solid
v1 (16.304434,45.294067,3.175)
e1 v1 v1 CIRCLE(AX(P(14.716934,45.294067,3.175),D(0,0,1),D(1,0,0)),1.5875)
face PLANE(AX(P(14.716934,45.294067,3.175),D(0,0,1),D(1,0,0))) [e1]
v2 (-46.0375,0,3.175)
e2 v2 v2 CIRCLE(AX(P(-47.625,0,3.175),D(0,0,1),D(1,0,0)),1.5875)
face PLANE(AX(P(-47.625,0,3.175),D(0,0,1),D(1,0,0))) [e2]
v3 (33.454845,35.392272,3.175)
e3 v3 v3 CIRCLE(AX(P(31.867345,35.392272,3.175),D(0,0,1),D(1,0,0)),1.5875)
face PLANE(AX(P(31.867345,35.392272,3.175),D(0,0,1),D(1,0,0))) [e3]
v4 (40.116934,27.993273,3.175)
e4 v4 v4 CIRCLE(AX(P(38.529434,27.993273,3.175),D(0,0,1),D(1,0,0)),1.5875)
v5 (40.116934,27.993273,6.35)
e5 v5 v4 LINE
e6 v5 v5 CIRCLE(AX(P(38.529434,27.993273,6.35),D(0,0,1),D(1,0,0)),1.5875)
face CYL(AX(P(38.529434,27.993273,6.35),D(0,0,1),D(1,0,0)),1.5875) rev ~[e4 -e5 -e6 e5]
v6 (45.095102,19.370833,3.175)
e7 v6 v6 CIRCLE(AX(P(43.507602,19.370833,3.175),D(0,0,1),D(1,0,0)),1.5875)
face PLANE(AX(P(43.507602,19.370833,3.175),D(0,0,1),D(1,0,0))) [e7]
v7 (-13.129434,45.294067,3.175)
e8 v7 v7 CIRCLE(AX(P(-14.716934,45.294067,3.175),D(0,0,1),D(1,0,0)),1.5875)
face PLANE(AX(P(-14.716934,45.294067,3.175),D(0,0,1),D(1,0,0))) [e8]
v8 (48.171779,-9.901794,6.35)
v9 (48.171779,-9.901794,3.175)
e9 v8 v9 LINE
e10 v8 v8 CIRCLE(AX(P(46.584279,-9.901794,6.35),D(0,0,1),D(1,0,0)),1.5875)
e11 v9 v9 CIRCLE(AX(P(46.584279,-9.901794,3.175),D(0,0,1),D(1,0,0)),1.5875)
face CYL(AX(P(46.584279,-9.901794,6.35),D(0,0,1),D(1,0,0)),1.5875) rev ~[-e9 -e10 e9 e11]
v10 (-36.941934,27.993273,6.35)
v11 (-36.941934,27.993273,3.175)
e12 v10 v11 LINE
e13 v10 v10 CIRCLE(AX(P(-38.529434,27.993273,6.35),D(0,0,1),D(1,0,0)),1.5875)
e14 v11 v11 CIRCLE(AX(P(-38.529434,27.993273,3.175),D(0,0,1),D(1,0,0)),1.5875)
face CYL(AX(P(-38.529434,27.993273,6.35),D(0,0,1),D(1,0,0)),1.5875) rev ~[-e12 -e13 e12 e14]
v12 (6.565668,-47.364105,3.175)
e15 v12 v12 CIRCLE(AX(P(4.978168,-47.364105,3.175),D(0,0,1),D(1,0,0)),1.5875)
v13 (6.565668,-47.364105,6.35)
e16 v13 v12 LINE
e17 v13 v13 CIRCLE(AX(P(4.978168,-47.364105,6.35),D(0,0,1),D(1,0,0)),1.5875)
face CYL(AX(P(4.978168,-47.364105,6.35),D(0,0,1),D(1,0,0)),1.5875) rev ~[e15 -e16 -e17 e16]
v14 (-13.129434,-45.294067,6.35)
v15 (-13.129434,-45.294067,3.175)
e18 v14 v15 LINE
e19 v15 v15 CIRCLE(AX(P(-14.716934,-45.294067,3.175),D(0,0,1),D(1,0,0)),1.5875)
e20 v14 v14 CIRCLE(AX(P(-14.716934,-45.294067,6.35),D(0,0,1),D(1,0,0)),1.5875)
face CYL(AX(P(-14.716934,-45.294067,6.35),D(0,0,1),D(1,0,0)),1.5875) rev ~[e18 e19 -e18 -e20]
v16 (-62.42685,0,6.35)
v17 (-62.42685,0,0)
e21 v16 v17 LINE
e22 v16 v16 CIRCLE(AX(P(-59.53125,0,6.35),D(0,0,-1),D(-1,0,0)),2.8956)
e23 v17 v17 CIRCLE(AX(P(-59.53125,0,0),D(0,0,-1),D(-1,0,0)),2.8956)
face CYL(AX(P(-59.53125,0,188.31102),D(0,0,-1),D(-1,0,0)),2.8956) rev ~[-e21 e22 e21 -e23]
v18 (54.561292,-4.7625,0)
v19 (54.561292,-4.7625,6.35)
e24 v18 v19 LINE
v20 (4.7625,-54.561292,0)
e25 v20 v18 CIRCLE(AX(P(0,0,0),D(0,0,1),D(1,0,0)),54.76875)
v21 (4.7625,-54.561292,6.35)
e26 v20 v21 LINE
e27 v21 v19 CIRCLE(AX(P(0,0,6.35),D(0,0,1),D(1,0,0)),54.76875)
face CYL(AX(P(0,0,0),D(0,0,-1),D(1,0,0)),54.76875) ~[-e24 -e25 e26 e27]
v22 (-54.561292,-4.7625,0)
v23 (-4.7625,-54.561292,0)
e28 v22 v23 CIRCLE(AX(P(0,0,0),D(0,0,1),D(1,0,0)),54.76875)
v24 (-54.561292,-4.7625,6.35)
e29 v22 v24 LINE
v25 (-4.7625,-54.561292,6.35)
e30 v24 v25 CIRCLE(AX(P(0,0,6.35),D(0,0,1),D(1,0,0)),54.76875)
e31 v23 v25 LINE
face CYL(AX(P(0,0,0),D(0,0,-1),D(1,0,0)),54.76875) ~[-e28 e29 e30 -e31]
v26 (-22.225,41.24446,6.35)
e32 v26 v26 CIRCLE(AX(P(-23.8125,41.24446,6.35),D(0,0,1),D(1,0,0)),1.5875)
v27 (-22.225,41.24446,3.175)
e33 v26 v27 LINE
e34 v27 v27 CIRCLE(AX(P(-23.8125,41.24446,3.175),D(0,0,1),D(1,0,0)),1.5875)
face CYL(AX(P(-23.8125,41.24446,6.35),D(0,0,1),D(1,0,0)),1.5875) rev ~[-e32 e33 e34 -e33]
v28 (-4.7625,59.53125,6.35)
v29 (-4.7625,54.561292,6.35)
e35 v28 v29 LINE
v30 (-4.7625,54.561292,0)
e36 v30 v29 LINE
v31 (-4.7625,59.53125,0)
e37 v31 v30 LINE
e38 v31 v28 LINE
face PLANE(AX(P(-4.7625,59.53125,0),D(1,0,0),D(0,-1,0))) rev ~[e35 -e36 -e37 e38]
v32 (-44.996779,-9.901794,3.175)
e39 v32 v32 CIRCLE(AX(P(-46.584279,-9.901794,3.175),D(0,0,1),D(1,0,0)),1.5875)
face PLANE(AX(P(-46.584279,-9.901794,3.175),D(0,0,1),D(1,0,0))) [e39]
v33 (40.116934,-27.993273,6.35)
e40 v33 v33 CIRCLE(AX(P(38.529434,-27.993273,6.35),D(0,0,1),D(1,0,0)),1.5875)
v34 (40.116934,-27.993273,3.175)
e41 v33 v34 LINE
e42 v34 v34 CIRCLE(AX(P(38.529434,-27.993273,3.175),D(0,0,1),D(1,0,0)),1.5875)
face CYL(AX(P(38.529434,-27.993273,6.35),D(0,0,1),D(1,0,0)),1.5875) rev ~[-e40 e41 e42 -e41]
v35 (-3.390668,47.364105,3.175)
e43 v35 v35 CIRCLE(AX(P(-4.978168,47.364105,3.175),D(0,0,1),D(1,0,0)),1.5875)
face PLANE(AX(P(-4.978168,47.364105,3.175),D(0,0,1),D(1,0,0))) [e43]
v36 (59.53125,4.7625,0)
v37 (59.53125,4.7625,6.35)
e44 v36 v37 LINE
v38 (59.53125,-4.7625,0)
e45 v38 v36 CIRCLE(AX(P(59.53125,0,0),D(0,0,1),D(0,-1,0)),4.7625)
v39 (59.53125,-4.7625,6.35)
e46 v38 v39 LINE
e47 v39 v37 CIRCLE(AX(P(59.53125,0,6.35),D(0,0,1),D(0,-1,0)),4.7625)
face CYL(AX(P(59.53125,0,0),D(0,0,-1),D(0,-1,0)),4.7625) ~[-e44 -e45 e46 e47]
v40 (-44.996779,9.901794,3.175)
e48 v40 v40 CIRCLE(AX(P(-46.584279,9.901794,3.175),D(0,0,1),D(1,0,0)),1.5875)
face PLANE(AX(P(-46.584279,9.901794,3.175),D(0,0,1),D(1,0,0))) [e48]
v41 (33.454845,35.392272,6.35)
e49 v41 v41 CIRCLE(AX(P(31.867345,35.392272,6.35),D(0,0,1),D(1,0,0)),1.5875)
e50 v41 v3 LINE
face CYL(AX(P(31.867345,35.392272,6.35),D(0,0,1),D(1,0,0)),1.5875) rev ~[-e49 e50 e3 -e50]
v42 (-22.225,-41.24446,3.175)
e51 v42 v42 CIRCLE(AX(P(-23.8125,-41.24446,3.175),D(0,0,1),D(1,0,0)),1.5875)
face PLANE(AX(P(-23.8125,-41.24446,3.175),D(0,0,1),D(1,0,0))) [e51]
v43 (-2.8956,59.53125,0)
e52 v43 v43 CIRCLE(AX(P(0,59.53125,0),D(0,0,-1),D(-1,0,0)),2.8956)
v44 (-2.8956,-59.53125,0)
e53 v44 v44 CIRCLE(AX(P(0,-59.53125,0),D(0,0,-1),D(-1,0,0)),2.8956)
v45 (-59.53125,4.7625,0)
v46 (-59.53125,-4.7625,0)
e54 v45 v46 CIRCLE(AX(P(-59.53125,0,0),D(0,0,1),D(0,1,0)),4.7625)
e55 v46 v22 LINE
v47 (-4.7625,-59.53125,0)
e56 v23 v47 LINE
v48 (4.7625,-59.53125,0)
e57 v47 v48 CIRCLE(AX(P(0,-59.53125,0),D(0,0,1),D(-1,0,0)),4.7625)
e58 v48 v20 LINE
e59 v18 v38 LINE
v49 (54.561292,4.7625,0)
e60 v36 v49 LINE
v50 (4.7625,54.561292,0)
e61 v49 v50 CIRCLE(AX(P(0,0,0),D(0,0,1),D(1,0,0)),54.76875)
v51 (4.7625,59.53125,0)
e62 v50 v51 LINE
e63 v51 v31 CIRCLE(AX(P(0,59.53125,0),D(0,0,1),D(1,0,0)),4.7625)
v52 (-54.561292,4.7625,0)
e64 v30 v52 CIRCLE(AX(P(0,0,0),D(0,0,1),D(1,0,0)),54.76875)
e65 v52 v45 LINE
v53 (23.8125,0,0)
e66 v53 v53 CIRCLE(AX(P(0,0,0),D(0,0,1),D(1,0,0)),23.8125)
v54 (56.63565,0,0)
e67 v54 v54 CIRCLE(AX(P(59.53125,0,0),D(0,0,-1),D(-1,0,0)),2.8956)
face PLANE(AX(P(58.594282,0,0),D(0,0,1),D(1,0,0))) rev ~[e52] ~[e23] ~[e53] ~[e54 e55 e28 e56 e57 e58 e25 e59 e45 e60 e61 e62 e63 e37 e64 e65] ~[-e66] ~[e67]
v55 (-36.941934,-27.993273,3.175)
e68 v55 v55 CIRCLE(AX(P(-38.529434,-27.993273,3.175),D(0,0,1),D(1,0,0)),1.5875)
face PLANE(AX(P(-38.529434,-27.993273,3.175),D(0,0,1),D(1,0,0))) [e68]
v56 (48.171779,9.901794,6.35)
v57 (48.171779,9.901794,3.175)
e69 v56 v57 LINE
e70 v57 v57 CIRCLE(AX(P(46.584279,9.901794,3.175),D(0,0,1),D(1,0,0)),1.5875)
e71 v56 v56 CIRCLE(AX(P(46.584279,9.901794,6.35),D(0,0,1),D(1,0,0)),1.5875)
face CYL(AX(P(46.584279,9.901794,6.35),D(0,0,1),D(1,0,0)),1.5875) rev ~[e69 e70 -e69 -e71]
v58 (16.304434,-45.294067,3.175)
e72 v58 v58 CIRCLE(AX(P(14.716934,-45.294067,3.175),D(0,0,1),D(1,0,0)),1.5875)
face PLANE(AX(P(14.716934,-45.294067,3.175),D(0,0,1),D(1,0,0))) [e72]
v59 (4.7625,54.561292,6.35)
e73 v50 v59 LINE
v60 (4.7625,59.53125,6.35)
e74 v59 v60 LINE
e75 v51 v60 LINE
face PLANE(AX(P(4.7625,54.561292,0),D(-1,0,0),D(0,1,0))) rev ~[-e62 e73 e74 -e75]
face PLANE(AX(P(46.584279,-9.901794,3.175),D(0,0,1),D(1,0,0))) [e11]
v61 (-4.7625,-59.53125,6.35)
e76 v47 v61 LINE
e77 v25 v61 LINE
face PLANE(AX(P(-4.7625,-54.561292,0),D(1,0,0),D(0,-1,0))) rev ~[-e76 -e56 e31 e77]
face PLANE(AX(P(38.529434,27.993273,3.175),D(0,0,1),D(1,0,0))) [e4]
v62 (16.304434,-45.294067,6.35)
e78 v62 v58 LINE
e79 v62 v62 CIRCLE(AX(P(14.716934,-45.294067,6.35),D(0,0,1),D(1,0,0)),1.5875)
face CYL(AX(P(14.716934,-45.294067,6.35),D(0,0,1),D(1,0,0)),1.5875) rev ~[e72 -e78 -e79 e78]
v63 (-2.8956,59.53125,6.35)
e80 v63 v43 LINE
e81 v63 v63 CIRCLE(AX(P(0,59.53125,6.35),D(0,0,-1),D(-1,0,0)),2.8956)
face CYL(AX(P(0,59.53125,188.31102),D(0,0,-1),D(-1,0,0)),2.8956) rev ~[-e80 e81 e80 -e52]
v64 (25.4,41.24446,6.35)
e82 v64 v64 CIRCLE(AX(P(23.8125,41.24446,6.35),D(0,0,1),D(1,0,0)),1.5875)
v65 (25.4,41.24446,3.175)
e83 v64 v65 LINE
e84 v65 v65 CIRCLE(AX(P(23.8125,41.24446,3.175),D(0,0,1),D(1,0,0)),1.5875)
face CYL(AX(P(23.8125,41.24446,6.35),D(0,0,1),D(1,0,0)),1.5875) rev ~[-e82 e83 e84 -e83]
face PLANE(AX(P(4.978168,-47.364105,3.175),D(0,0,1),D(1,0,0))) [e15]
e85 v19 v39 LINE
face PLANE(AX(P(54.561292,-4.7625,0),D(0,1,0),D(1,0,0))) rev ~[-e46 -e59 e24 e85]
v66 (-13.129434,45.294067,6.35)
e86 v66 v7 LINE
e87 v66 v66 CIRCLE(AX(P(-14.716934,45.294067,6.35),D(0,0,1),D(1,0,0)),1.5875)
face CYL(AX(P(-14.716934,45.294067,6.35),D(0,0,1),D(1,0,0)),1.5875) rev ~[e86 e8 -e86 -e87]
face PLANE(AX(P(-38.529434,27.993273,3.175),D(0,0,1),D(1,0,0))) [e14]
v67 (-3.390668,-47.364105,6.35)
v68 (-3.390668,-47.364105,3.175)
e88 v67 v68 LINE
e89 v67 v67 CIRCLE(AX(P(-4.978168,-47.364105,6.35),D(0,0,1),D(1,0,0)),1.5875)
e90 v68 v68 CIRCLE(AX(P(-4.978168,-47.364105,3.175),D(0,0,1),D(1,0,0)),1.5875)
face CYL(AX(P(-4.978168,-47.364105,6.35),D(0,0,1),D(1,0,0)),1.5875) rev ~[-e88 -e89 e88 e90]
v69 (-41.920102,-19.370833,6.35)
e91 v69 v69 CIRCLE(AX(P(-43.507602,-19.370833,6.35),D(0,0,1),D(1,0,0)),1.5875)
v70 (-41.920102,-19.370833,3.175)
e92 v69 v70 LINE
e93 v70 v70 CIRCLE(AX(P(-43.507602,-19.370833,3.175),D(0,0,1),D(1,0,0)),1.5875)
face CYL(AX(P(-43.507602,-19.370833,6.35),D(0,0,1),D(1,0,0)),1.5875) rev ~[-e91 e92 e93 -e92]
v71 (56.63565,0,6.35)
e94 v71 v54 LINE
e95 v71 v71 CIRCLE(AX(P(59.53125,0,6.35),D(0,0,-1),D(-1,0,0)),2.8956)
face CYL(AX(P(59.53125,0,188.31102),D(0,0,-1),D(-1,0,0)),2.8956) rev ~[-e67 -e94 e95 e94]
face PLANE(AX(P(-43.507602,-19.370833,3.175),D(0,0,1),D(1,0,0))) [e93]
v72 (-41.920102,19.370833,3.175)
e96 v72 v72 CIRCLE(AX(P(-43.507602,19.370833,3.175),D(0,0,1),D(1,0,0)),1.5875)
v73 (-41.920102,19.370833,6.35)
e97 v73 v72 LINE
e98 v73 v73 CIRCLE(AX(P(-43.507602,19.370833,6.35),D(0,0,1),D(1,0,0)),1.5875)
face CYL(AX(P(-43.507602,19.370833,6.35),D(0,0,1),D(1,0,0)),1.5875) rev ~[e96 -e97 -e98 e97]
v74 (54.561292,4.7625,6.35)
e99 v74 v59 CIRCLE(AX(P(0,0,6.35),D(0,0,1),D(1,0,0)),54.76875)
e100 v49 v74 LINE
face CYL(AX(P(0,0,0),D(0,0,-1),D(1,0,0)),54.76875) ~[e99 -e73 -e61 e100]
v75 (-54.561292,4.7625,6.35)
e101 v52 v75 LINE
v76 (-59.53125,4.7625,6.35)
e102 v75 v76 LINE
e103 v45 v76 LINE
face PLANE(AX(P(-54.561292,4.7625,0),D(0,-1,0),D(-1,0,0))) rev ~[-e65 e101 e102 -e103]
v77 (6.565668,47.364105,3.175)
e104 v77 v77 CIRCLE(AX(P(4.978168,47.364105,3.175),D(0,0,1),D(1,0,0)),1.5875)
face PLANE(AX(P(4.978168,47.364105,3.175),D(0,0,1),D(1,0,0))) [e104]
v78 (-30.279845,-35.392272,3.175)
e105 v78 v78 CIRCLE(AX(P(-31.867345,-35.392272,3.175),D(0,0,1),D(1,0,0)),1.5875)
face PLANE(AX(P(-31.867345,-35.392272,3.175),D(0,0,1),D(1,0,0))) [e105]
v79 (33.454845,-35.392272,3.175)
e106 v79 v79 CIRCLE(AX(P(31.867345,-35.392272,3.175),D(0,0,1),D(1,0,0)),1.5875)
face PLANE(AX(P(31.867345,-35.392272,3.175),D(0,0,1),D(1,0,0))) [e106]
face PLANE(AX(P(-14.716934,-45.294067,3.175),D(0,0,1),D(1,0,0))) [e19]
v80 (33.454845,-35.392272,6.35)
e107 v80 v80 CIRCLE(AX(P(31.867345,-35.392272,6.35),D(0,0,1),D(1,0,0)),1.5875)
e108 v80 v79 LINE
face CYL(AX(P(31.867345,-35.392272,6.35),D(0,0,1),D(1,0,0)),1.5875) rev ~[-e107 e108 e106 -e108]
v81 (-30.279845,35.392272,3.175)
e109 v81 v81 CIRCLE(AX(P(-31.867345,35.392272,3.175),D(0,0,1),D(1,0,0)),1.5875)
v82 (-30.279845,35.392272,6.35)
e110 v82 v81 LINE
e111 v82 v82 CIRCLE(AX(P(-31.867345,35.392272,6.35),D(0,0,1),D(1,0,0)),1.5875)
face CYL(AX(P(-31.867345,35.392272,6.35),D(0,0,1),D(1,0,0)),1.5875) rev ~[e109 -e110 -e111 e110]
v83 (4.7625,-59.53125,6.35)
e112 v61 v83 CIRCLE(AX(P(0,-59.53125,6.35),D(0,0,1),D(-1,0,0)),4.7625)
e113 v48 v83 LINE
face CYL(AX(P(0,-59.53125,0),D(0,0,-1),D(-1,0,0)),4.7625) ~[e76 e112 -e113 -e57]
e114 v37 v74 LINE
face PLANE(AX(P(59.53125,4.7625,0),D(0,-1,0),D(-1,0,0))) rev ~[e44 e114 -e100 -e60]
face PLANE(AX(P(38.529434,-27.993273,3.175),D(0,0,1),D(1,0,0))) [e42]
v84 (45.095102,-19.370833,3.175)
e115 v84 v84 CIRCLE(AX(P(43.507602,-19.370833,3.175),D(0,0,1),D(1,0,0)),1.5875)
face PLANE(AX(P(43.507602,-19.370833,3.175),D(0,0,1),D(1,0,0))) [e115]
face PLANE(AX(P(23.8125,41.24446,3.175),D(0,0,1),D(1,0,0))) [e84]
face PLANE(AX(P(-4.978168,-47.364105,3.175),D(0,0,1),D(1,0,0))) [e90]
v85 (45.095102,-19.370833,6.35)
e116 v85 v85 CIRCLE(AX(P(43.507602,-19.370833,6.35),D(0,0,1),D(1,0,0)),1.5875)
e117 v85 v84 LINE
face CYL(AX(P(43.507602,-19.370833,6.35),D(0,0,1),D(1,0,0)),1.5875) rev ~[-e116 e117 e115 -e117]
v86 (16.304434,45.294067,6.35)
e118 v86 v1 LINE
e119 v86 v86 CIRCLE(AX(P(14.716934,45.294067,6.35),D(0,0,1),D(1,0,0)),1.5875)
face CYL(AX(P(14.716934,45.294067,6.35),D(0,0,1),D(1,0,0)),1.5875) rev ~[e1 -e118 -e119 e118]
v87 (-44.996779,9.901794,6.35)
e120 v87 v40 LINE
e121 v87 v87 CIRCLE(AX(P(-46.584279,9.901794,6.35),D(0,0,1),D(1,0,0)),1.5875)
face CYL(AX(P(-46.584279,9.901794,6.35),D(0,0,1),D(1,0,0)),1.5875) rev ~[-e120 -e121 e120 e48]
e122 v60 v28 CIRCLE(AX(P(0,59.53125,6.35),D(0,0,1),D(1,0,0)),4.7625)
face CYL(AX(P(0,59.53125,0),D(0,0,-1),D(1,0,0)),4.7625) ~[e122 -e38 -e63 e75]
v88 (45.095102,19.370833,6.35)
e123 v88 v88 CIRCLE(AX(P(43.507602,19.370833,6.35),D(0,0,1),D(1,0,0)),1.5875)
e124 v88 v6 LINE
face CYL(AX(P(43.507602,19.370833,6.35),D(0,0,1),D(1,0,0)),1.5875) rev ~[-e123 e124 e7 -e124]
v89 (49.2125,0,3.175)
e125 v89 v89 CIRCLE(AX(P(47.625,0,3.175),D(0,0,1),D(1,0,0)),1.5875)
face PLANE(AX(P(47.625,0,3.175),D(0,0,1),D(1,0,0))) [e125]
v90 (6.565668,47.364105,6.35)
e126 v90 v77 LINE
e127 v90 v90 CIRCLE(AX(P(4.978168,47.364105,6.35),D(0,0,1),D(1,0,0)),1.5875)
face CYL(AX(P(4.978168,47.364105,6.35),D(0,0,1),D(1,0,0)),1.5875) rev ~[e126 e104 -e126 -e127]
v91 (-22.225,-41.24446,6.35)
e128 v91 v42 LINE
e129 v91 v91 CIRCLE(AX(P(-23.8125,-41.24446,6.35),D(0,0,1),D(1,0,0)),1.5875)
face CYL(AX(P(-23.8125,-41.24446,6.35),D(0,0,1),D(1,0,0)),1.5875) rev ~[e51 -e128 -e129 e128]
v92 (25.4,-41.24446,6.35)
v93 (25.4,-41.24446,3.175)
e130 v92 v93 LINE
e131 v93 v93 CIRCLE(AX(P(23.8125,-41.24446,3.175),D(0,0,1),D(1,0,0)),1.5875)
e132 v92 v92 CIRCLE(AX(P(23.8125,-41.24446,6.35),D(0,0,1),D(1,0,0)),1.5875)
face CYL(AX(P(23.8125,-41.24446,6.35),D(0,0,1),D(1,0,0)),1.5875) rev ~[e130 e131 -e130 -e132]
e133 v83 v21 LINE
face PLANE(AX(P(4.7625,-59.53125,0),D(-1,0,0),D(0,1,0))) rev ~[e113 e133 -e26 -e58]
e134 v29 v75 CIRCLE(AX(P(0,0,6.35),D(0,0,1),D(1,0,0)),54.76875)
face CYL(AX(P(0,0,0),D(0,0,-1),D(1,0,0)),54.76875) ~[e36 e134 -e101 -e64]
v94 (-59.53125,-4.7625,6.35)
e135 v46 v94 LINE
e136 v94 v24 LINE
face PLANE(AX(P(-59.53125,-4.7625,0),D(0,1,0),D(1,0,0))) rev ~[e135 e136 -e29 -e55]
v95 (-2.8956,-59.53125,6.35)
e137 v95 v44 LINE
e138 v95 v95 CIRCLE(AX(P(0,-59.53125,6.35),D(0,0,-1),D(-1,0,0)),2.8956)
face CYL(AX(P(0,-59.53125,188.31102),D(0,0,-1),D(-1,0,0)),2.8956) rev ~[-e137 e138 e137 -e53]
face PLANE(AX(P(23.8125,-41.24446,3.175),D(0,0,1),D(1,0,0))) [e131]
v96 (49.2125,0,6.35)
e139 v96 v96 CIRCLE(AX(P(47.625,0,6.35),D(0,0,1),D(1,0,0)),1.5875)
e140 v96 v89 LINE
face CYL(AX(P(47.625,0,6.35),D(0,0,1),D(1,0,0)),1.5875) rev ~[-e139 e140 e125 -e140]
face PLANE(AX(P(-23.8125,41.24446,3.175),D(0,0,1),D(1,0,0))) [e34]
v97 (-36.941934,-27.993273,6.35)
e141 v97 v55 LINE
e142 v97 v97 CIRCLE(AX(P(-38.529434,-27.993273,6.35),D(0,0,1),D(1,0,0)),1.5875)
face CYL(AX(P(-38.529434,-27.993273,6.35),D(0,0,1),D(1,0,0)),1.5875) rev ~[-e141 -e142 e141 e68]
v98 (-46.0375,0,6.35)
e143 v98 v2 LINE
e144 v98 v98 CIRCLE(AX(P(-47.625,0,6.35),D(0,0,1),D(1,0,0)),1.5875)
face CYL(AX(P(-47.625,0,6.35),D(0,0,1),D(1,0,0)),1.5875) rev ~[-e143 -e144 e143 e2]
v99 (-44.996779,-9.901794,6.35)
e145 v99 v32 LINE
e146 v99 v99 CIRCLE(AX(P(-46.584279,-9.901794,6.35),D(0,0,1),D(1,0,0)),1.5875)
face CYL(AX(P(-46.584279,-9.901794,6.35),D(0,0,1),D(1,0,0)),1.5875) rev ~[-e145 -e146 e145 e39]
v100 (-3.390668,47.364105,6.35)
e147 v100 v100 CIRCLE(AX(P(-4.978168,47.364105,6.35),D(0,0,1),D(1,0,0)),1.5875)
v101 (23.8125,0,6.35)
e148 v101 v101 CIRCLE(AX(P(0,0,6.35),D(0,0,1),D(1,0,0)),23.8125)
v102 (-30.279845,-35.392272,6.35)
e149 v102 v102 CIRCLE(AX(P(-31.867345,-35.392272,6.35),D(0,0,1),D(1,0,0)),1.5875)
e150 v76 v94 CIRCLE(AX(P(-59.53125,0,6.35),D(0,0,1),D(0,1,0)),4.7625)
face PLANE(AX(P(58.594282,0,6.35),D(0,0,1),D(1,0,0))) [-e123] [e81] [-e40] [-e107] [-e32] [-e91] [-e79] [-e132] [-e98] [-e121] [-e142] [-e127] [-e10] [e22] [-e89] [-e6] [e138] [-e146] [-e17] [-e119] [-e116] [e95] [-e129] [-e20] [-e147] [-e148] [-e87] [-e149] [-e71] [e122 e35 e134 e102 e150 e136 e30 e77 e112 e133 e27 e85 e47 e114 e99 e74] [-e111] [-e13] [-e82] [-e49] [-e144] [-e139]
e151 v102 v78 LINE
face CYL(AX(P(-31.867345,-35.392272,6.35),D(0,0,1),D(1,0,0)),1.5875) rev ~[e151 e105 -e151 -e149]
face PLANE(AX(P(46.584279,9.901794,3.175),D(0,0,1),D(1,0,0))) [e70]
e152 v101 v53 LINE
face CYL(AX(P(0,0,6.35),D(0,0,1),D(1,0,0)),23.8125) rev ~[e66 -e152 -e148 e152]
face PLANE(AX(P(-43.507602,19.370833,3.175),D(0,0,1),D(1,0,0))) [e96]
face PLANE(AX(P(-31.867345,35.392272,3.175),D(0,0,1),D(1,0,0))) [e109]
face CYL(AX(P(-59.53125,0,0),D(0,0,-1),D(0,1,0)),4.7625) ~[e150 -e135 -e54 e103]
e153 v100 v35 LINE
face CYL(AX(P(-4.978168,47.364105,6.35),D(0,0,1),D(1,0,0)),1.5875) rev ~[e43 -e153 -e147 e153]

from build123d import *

# Parameters (mm, degrees)
SKETCH1_R                  = 54.76875
BOSS_EXTRUDE1_DEPTH        = 6.35
BOSS_EXTRUDE2_START        = -6.35
BOSS_EXTRUDE2_DEPTH        = 6.35
F_1_0_228_DIAMETER_HOLE1_D = 5.7912
SKETCH11_R                 = 1.5875
CUT_EXTRUDE1_DEPTH         = 3.175
SKETCH12_R                 = 23.8125
CUT_EXTRUDE2_DEPTH         = 92.146558235


with BuildPart() as part:
    # Sketch1 → Boss-Extrude1 (new body)
    with BuildSketch(Plane.XY):
        Circle(SKETCH1_R)
    extrude(amount=BOSS_EXTRUDE1_DEPTH)

    # Sketch7 → Boss-Extrude2 (add)
    with BuildSketch(Plane.XY.offset(6.35).offset(BOSS_EXTRUDE2_START)):
        with BuildLine():
            Line((-54.561291868, 4.7625), (-59.53125, 4.7625))
            ThreePointArc((-59.53125, 4.7625), (-64.29375, 0), (-59.53125, -4.7625))
            Line((-59.53125, -4.7625), (-54.561291868, -4.7625))
            ThreePointArc((-54.561291868, -4.7625), (-54.76875, 0), (-54.561291868, 4.7625))
        make_face()
        with BuildLine():
            Line((-4.7625, 59.53125), (-4.7625, 54.561291868))
            ThreePointArc((-4.7625, 54.561291868), (0, 54.76875), (4.7625, 54.561291868))
            Line((4.7625, 54.561291868), (4.7625, 59.53125))
            ThreePointArc((4.7625, 59.53125), (0, 64.29375), (-4.7625, 59.53125))
        make_face()
        with BuildLine():
            ThreePointArc((4.7625, -54.561291868), (0, -54.76875), (-4.7625, -54.561291868))
            Line((-4.7625, -54.561291868), (-4.7625, -59.53125))
            ThreePointArc((-4.7625, -59.53125), (0, -64.29375), (4.7625, -59.53125))
            Line((4.7625, -59.53125), (4.7625, -54.561291868))
        make_face()
        with BuildLine():
            Line((59.53125, 4.7625), (54.561291868, 4.7625))
            ThreePointArc((54.561291868, 4.7625), (54.76875, 0), (54.561291868, -4.7625))
            Line((54.561291868, -4.7625), (59.53125, -4.7625))
            ThreePointArc((59.53125, -4.7625), (64.29375, 0), (59.53125, 4.7625))
        make_face()
    extrude(amount=BOSS_EXTRUDE2_DEPTH)

    # #1 (0.228) Diameter Hole1 (through all)
    with Locations(Plane.XY.offset(6.35)):
        with Locations((-59.53125, 0), (0, 59.53125), (59.53125, 0), (0, -59.53125)):
            Hole(F_1_0_228_DIAMETER_HOLE1_D / 2)

    # Sketch11 → Cut-Extrude1 (cut)
    with BuildSketch(Plane.XY.offset(6.35)):
        with Locations((-47.625, 0)):
            Circle(SKETCH11_R)
        with Locations((-46.584279485, 9.901794275)):
            Circle(SKETCH11_R)
        with Locations((-43.50760242, 19.370832626)):
            Circle(SKETCH11_R)
        with Locations((-38.529434357, 27.99327264)):
            Circle(SKETCH11_R)
        with Locations((-31.867345128, 35.392272313)):
            Circle(SKETCH11_R)
        with Locations((-23.8125, 41.244459855)):
            Circle(SKETCH11_R)
        with Locations((-14.716934357, 45.294066589)):
            Circle(SKETCH11_R)
        with Locations((-4.978168063, 47.364105267)):
            Circle(SKETCH11_R)
        with Locations((4.978168063, 47.364105267)):
            Circle(SKETCH11_R)
        with Locations((14.716934357, 45.294066589)):
            Circle(SKETCH11_R)
        with Locations((23.8125, 41.244459855)):
            Circle(SKETCH11_R)
        with Locations((31.867345128, 35.392272313)):
            Circle(SKETCH11_R)
        with Locations((38.529434357, 27.99327264)):
            Circle(SKETCH11_R)
        with Locations((43.50760242, 19.370832626)):
            Circle(SKETCH11_R)
        with Locations((46.584279485, 9.901794275)):
            Circle(SKETCH11_R)
        with Locations((47.625, 0)):
            Circle(SKETCH11_R)
        with Locations((46.584279485, -9.901794275)):
            Circle(SKETCH11_R)
        with Locations((43.50760242, -19.370832626)):
            Circle(SKETCH11_R)
        with Locations((38.529434357, -27.99327264)):
            Circle(SKETCH11_R)
        with Locations((31.867345128, -35.392272313)):
            Circle(SKETCH11_R)
        with Locations((23.8125, -41.244459855)):
            Circle(SKETCH11_R)
        with Locations((14.716934357, -45.294066589)):
            Circle(SKETCH11_R)
        with Locations((4.978168063, -47.364105267)):
            Circle(SKETCH11_R)
        with Locations((-4.978168063, -47.364105267)):
            Circle(SKETCH11_R)
        with Locations((-14.716934357, -45.294066589)):
            Circle(SKETCH11_R)
        with Locations((-23.8125, -41.244459855)):
            Circle(SKETCH11_R)
        with Locations((-31.867345128, -35.392272313)):
            Circle(SKETCH11_R)
        with Locations((-38.529434357, -27.99327264)):
            Circle(SKETCH11_R)
        with Locations((-43.50760242, -19.370832626)):
            Circle(SKETCH11_R)
        with Locations((-46.584279485, -9.901794275)):
            Circle(SKETCH11_R)
    extrude(amount=-CUT_EXTRUDE1_DEPTH, mode=Mode.SUBTRACT)

    # Sketch12 → Cut-Extrude2 (cut, through all)
    with BuildSketch(Plane.XY.offset(6.35)):
        Circle(SKETCH12_R)
    extrude(amount=-CUT_EXTRUDE2_DEPTH, mode=Mode.SUBTRACT)


solid = part.part
